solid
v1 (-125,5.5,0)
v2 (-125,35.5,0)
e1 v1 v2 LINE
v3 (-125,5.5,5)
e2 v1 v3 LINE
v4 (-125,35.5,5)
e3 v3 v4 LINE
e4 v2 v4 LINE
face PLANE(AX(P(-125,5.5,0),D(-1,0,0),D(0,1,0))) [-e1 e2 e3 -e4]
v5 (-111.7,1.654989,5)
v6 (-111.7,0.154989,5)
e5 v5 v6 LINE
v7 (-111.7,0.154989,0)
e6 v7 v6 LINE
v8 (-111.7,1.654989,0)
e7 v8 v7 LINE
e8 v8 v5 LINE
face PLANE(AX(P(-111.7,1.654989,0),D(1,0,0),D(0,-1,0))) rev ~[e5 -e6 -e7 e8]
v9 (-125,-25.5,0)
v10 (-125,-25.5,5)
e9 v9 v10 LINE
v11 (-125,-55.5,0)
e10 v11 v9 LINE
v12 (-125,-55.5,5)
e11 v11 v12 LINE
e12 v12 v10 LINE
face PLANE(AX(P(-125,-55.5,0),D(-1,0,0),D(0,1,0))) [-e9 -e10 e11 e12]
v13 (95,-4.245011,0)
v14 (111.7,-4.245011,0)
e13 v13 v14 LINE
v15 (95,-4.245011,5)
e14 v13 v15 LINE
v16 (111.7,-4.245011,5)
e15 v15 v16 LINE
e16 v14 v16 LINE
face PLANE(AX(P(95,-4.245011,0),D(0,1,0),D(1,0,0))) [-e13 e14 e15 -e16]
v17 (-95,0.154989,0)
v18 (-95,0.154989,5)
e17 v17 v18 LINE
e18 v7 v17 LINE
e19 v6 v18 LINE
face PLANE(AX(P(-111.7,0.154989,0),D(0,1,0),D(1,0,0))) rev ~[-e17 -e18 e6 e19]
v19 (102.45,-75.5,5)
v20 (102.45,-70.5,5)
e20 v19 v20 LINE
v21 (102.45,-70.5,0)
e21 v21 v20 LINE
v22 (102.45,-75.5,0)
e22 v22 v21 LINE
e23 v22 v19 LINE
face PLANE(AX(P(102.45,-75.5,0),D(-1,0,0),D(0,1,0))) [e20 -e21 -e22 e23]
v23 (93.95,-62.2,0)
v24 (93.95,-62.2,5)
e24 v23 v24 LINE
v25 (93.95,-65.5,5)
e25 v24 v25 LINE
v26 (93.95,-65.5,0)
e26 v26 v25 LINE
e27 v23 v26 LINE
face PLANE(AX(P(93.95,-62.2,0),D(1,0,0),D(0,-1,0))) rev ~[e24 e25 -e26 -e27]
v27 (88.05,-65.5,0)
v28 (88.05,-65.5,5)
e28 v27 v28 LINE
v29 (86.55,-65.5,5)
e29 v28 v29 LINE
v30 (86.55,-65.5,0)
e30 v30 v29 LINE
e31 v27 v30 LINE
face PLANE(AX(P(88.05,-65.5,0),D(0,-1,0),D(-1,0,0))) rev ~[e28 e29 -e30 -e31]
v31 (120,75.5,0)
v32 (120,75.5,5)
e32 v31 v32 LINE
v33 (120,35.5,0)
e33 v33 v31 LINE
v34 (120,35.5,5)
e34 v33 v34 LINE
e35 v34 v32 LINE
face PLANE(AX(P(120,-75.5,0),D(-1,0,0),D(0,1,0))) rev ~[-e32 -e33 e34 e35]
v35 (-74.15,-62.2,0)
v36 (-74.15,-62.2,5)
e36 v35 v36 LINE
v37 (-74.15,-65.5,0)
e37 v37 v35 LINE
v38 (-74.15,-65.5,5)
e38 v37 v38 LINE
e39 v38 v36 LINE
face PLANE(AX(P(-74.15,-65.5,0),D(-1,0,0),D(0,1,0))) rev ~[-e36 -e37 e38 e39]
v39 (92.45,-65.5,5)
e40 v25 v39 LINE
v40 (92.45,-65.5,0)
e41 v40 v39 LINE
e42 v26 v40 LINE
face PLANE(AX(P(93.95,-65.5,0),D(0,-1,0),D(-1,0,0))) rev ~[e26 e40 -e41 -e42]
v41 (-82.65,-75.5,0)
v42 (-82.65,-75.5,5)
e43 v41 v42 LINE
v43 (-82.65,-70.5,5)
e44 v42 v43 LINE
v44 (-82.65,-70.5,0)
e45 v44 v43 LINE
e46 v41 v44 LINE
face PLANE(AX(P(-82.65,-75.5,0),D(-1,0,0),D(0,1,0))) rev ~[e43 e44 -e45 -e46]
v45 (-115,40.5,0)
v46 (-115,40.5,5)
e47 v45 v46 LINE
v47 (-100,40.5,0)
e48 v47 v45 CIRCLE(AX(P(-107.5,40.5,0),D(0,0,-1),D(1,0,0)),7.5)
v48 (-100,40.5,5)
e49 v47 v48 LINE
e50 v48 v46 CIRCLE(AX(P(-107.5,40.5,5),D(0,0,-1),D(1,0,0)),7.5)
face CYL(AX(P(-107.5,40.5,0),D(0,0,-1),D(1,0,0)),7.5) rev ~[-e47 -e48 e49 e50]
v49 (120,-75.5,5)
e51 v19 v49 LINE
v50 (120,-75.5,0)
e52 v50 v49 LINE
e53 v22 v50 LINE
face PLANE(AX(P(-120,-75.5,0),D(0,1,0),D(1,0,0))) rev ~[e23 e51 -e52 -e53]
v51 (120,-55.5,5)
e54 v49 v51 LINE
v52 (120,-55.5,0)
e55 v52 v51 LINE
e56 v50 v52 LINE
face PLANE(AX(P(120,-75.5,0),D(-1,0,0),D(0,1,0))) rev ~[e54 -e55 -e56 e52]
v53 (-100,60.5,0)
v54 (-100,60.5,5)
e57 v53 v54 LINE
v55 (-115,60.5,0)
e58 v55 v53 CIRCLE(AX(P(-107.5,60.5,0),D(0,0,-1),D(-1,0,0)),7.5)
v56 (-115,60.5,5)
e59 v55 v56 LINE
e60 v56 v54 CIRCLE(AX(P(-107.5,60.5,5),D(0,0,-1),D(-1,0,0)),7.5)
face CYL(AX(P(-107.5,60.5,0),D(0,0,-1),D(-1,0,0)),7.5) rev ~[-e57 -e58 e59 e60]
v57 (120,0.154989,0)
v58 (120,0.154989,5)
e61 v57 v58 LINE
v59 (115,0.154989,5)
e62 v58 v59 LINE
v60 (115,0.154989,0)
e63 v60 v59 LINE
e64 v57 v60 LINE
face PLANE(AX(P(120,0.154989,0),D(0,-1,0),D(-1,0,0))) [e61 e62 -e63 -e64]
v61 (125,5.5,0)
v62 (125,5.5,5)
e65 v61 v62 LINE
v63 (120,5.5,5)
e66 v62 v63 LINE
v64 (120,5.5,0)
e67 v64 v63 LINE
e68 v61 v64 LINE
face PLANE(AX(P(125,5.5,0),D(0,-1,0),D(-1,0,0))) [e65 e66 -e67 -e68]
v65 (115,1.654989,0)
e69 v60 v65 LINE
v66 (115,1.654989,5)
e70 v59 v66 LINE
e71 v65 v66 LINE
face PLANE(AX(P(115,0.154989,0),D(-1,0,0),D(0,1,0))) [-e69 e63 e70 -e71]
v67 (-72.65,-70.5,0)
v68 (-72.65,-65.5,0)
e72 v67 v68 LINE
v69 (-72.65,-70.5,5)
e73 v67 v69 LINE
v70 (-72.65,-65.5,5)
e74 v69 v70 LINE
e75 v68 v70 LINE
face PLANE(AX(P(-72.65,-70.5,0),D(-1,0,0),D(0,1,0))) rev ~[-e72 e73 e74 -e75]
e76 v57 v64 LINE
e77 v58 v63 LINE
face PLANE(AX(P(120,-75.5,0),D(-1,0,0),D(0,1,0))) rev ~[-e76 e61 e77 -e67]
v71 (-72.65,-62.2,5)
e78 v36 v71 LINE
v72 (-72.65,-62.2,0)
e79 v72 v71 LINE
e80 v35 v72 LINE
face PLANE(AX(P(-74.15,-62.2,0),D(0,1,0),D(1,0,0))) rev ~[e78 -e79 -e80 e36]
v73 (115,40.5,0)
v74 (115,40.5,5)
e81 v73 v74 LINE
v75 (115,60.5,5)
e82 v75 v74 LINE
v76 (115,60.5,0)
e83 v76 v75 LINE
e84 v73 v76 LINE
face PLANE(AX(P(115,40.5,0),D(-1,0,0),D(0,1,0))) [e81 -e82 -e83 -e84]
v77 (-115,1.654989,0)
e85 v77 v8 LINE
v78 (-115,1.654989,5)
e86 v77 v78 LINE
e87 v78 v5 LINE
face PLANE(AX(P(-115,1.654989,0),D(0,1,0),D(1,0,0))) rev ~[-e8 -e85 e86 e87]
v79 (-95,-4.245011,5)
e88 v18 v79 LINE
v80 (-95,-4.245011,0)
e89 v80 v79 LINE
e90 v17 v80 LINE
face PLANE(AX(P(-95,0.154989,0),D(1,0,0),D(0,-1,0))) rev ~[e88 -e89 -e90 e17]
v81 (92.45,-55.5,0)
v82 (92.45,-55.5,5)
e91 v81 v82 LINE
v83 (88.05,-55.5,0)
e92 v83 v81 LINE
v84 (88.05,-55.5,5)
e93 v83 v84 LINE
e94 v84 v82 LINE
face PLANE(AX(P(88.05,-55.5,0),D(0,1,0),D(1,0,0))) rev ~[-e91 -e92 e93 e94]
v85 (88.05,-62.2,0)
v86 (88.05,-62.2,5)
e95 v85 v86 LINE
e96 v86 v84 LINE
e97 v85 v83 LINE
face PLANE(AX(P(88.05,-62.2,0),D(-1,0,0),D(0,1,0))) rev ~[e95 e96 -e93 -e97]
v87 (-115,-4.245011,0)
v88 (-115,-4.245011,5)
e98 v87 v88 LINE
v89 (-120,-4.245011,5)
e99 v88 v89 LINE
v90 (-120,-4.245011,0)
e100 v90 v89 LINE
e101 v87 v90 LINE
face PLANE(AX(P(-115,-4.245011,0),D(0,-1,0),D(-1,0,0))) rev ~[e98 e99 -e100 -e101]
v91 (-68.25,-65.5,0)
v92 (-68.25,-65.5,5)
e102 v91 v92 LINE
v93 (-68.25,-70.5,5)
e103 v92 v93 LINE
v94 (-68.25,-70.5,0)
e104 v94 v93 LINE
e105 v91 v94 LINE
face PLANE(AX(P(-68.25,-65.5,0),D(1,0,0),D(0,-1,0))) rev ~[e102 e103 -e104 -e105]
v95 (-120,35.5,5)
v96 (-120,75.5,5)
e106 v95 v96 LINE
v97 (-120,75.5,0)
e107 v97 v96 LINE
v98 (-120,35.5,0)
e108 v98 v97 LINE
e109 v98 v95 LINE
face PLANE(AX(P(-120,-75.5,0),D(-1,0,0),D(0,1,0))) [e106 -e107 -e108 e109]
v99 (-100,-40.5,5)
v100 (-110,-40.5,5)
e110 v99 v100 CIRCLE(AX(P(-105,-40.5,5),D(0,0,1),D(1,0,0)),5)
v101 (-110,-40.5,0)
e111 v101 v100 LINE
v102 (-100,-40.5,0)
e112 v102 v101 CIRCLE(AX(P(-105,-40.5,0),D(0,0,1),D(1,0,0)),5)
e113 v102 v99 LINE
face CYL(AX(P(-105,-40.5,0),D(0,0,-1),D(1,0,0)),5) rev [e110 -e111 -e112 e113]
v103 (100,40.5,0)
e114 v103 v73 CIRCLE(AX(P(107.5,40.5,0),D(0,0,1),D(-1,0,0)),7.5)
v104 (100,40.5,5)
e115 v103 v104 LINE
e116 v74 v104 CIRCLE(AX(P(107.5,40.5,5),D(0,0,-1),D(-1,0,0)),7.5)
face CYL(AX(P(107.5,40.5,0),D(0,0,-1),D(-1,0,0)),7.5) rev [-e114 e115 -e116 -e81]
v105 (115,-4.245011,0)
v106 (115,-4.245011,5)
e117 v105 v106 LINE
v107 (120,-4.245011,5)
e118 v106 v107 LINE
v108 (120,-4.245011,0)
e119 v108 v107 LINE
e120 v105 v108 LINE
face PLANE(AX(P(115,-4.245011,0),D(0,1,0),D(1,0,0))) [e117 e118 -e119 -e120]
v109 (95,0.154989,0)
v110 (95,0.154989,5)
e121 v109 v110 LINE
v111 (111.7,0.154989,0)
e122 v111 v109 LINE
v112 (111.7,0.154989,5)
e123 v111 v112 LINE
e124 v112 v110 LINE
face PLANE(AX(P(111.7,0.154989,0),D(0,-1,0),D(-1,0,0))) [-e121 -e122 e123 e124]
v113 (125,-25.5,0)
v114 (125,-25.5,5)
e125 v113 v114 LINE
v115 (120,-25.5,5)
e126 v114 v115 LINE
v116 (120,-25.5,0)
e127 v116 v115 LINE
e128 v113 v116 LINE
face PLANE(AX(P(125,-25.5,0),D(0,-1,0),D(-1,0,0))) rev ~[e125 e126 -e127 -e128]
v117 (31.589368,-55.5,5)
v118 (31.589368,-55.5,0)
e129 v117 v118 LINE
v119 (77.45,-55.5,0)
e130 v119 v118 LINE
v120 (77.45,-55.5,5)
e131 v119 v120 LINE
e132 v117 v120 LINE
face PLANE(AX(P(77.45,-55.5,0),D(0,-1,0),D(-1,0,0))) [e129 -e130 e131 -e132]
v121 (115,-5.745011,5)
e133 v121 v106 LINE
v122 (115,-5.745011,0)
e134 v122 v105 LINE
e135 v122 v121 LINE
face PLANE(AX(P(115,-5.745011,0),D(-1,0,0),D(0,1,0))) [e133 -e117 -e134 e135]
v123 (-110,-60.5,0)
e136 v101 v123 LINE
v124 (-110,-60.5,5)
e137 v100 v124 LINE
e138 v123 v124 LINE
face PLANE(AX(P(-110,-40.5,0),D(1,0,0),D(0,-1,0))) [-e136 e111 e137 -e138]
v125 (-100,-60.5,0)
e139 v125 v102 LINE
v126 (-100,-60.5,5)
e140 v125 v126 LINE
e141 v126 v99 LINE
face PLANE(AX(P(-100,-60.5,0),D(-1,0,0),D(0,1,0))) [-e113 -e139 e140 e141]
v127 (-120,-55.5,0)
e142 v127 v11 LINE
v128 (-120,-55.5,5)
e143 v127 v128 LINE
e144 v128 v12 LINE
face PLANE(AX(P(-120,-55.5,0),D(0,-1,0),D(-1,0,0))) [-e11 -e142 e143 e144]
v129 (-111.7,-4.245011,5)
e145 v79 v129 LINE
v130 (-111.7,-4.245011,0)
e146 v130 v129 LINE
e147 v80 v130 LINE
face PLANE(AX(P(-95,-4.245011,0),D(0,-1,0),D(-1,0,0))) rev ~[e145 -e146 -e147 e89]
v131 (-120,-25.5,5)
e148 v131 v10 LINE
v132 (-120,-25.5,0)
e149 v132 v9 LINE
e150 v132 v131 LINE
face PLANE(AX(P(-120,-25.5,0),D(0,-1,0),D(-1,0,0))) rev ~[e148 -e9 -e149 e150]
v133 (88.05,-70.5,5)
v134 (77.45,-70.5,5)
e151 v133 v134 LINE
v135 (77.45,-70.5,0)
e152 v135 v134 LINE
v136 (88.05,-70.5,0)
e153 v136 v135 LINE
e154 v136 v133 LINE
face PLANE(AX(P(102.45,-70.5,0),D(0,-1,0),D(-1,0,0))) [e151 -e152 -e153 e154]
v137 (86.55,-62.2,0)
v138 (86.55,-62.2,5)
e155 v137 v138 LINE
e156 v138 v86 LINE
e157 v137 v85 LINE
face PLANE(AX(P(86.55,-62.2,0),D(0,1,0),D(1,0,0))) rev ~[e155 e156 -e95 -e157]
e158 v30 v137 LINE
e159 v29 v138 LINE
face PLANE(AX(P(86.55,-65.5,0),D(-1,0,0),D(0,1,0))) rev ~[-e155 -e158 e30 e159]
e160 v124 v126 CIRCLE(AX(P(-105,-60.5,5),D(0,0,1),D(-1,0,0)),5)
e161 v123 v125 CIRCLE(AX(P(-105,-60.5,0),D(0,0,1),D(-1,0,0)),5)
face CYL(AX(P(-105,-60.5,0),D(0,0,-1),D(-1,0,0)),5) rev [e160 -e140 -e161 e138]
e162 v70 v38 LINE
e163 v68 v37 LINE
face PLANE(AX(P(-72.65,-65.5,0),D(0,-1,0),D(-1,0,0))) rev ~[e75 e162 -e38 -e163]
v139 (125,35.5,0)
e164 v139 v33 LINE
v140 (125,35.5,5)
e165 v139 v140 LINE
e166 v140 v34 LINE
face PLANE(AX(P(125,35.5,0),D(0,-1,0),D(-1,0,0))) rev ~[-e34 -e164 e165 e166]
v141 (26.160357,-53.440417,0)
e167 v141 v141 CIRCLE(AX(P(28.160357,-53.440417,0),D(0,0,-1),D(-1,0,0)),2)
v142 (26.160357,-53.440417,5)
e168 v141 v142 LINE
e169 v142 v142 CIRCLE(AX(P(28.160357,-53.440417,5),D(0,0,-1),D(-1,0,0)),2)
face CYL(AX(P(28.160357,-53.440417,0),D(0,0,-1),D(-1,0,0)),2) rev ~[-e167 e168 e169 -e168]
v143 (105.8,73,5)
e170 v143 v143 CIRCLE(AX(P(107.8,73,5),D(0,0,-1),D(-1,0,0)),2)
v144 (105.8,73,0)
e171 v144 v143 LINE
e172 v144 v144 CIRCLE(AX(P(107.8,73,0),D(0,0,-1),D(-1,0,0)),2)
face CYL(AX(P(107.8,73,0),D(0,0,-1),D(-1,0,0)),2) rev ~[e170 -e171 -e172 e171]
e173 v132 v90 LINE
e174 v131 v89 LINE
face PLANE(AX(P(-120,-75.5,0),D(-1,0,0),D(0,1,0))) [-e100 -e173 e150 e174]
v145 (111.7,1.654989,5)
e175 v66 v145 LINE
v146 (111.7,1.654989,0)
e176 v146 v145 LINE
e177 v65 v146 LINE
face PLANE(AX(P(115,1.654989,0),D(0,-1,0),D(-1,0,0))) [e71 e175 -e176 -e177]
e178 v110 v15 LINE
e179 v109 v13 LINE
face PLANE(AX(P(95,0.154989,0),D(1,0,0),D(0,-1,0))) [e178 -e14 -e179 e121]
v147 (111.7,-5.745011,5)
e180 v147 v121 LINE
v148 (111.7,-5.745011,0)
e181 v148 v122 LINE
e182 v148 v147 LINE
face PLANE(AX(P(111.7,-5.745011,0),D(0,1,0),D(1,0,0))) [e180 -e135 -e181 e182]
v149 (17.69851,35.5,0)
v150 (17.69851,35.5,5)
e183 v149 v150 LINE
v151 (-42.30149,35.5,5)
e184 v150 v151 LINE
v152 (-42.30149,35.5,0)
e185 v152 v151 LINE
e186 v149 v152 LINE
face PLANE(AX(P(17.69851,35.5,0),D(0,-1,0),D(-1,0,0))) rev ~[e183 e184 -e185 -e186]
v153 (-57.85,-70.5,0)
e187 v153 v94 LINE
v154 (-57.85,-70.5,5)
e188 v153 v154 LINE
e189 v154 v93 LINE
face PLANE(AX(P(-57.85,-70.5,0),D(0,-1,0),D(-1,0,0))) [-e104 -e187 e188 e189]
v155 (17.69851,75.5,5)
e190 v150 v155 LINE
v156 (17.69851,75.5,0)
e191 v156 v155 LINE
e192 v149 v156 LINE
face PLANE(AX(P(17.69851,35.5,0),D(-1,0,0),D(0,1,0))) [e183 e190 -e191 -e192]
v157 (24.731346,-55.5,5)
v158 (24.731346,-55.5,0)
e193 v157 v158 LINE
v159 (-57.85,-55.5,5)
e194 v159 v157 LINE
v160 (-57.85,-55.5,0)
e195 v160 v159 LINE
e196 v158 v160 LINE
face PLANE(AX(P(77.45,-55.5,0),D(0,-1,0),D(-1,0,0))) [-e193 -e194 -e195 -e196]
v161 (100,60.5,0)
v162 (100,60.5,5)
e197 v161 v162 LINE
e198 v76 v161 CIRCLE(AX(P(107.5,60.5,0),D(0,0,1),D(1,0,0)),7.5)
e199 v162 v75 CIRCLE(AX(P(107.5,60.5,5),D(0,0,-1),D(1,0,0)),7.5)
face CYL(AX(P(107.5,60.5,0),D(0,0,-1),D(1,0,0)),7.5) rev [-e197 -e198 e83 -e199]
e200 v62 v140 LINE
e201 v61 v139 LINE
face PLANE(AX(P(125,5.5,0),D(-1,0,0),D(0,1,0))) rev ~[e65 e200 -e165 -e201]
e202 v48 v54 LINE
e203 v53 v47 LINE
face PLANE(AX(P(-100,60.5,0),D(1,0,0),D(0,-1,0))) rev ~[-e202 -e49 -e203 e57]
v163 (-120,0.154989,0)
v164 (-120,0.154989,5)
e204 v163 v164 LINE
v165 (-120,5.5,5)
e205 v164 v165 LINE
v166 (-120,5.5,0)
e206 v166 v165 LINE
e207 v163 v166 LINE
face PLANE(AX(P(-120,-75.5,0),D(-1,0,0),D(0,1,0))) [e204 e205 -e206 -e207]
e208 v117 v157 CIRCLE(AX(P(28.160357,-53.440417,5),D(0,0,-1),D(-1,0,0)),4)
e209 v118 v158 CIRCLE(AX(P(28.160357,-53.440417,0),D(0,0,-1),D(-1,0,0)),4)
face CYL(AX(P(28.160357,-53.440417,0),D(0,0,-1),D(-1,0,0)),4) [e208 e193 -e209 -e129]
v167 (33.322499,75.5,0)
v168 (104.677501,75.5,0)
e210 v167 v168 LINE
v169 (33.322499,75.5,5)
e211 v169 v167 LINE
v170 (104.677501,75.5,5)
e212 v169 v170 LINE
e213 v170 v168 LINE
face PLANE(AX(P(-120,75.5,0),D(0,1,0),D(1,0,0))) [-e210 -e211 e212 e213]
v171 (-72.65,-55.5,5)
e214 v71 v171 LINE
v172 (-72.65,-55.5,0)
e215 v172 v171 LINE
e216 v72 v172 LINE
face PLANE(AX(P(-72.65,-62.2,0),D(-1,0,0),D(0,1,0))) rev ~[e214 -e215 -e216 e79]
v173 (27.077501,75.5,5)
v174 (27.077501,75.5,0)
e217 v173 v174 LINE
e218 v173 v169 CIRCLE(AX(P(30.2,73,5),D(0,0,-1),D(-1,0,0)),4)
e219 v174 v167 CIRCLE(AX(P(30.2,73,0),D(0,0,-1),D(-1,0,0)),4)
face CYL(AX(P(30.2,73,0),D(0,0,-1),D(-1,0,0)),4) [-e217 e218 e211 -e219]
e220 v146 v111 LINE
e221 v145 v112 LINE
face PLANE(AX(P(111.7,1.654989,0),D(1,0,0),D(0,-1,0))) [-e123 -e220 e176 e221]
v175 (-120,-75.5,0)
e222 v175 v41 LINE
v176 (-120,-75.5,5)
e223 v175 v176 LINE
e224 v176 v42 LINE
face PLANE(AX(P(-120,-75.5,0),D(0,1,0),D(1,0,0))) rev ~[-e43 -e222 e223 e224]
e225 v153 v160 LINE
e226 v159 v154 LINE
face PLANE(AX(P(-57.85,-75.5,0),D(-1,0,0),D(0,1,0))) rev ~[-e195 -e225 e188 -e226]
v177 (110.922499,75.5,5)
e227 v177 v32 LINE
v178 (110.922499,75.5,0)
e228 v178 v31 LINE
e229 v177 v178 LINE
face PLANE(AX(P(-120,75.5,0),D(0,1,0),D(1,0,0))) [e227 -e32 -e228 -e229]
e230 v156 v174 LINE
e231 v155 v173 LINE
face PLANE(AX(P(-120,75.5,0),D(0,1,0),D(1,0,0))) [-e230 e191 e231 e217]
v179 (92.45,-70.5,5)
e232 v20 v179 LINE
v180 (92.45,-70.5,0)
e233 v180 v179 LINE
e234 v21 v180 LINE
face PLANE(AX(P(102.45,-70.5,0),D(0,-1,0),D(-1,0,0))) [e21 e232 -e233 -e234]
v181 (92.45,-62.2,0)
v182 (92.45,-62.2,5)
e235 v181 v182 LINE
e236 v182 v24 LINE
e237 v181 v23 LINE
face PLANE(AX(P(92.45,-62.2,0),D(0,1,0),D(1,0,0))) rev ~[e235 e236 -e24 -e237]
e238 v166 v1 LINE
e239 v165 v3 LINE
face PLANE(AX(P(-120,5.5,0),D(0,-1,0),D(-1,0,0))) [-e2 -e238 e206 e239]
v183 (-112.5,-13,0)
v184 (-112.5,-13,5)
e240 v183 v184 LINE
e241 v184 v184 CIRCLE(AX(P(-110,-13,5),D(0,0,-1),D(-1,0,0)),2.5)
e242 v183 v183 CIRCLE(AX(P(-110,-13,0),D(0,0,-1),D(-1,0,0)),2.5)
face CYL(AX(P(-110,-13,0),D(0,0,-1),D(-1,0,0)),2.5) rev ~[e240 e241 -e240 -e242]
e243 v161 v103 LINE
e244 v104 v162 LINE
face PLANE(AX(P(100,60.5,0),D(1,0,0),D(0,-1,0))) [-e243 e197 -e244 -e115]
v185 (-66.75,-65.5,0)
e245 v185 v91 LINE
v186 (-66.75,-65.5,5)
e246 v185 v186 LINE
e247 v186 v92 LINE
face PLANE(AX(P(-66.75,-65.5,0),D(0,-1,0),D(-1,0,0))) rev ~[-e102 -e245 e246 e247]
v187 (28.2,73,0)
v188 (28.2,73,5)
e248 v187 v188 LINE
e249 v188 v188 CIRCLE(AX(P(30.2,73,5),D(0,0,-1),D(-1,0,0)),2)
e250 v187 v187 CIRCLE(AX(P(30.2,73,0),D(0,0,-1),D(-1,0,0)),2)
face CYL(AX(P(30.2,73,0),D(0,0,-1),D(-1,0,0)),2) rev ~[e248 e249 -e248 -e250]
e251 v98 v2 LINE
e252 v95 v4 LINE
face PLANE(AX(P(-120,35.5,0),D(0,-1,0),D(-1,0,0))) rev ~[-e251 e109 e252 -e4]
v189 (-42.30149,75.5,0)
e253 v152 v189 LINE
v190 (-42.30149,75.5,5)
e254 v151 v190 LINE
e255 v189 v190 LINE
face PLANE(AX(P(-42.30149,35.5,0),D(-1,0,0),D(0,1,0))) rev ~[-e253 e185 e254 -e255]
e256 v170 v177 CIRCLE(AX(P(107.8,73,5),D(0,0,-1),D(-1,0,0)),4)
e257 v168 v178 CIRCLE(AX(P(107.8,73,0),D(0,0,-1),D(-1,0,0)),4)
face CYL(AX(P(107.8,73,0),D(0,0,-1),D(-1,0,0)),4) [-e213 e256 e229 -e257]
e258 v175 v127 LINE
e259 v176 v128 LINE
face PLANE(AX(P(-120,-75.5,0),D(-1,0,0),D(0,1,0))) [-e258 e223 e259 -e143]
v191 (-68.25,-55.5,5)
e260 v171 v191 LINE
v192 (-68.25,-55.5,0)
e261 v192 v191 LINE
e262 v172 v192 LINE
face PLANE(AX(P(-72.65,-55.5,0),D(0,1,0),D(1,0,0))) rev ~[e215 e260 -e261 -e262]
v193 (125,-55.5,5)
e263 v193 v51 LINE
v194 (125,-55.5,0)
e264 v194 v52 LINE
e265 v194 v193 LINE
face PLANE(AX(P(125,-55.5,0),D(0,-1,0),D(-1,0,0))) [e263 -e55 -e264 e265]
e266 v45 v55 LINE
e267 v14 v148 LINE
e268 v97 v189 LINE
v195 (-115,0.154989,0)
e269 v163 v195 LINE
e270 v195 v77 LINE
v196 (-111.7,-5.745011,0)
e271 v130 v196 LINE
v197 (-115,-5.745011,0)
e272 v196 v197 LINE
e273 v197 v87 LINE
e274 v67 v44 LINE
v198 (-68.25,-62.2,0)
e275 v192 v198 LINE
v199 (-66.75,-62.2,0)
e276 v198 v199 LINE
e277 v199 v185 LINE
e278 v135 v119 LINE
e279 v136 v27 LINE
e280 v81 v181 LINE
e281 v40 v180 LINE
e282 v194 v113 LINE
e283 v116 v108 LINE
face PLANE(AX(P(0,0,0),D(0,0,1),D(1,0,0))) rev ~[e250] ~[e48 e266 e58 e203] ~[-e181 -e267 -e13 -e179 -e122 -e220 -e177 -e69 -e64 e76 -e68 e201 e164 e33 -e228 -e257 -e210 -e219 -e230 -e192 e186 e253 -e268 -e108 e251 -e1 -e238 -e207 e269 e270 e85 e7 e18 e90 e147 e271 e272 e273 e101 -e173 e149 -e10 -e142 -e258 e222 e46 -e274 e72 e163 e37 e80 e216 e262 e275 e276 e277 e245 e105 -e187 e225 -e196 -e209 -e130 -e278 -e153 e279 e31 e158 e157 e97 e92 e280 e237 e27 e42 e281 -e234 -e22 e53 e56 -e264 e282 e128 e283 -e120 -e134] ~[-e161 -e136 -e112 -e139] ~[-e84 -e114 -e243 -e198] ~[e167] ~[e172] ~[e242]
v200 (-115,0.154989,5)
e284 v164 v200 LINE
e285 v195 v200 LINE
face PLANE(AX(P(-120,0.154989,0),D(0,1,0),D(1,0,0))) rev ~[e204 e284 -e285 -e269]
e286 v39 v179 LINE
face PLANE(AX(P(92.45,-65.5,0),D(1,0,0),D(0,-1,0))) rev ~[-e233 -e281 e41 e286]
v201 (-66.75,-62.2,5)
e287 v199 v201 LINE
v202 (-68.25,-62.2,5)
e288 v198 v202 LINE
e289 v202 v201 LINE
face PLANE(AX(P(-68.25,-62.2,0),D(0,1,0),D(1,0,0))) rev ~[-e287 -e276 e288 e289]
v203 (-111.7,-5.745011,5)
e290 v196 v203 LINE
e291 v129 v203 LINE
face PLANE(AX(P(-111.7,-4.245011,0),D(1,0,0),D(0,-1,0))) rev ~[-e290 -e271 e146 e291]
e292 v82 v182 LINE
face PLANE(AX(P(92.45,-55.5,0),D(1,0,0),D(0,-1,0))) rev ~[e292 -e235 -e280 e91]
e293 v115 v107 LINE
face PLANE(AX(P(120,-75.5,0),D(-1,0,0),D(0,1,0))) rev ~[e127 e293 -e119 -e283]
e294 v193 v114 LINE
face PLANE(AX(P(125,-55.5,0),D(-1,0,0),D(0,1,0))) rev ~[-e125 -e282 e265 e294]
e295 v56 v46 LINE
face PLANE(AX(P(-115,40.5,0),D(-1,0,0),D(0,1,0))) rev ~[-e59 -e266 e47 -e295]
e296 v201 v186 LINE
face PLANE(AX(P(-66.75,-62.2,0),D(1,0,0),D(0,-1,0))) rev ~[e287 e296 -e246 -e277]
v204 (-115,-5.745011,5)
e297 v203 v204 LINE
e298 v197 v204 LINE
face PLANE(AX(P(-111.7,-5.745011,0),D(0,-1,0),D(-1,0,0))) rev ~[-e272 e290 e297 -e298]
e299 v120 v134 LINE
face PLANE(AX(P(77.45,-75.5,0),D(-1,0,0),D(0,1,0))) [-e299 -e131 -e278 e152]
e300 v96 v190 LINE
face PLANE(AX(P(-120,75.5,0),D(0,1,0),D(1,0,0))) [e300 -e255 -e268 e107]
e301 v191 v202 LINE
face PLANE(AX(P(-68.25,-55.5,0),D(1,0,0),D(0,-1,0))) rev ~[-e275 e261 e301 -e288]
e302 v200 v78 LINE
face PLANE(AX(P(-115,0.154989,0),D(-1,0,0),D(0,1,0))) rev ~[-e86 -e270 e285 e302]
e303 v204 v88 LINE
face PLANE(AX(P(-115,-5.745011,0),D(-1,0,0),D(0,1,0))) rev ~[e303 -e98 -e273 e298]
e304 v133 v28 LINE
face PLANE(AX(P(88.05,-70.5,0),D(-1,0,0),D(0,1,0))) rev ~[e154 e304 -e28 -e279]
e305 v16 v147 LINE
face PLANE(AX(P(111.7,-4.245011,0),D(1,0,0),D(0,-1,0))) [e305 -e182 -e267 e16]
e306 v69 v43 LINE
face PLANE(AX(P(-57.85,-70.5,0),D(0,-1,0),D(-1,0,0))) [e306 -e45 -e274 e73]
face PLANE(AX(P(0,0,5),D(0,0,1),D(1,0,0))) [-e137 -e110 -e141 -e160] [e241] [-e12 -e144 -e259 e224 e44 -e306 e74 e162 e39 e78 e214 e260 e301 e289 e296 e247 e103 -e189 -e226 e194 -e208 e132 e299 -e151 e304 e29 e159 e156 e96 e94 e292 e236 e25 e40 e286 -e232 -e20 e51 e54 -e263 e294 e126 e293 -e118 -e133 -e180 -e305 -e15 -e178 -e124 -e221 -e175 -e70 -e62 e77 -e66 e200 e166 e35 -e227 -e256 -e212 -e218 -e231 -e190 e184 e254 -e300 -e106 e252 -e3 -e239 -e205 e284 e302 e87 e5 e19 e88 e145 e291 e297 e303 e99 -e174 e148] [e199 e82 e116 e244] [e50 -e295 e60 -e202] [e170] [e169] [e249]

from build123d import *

# Parameters (mm, degrees)
SKETCH1_W           = 240
SKETCH1_H           = 151
BOSS_EXTRUDE1_DEPTH = 5
SKETCH2_W           = 60
SKETCH2_H           = 40
CUT_EXTRUDE1_DEPTH  = 5
SKETCH4_R           = 2
CUT_EXTRUDE3_DEPTH  = 5
SKETCH5_R           = 4
SKETCH5_R_2         = 2
BOSS_EXTRUDE2_DEPTH = 5
CUT_EXTRUDE5_DEPTH  = 5
SKETCH12_R          = 2
CUT_EXTRUDE7_DEPTH  = 5
SKETCH13_R          = 2.5
CUT_EXTRUDE8_DEPTH  = 10
SKETCH16_W          = 5
SKETCH16_H          = 30
BOSS_EXTRUDE5_DEPTH = 5
CUT_EXTRUDE11_DEPTH = 5
SKETCH18_W          = 135.3
SKETCH18_H          = 20
CUT_EXTRUDE13_DEPTH = 10
SKETCH19_R          = 4
SKETCH19_R_2        = 2
BOSS_EXTRUDE6_DEPTH = 5
SKETCH20_W          = 24.8
SKETCH20_H          = 5
CUT_EXTRUDE14_DEPTH = 5
SKETCH21_W          = 25
SKETCH21_H          = 5
CUT_EXTRUDE15_DEPTH = 5
CUT_EXTRUDE16_DEPTH = 5
CUT_EXTRUDE17_DEPTH = 10


with BuildPart() as part:
    # Sketch1 → Boss-Extrude1 (new body)
    with BuildSketch(Plane.XY):
        Rectangle(SKETCH1_W, SKETCH1_H)
    extrude(amount=BOSS_EXTRUDE1_DEPTH)

    # Sketch2 → Cut-Extrude1 (cut)
    with BuildSketch(Plane(origin=(0, 0, 0), x_dir=(-1, 0, 0), z_dir=(0, 0, -1))):
        with Locations((12.301489704, 55.5)):
            Rectangle(SKETCH2_W, SKETCH2_H)
    extrude(amount=-CUT_EXTRUDE1_DEPTH, mode=Mode.SUBTRACT)

    # Sketch4 → Cut-Extrude3 (cut)
    with BuildSketch(Plane(origin=(0, 0, 0), x_dir=(-1, 0, 0), z_dir=(0, 0, -1))):
        with Locations((-107.8, 73)):
            Circle(SKETCH4_R)
        with Locations((-30.2, 73)):
            Circle(SKETCH4_R)
    extrude(amount=-CUT_EXTRUDE3_DEPTH, mode=Mode.SUBTRACT)

    # Sketch5 → Boss-Extrude2 (add)
    with BuildSketch(Plane(origin=(0, 0, 0), x_dir=(-1, 0, 0), z_dir=(0, 0, -1))):
        with Locations((-30.2, 73)):
            Circle(SKETCH5_R)
        with Locations((-30.2, 73)):
            Circle(SKETCH5_R_2, mode=Mode.SUBTRACT)
        with Locations((-107.8, 73)):
            Circle(SKETCH5_R)
        with Locations((-107.8, 73)):
            Circle(SKETCH5_R_2, mode=Mode.SUBTRACT)
    extrude(amount=-BOSS_EXTRUDE2_DEPTH)

    # Sketch8 → Cut-Extrude5 (cut)
    with BuildSketch(Plane(origin=(0, 0, 0), x_dir=(-1, 0, 0), z_dir=(0, 0, -1))):
        with BuildLine():
            Line((100, -60.5), (100, -40.5))
            ThreePointArc((100, -40.5), (105, -35.5), (110, -40.5))
            Line((110, -40.5), (110, -60.5))
            ThreePointArc((110, -60.5), (105, -65.5), (100, -60.5))
        make_face()
    extrude(amount=-CUT_EXTRUDE5_DEPTH, mode=Mode.SUBTRACT)

    # Sketch12 → Cut-Extrude7 (cut)
    with BuildSketch(Plane(origin=(0, 0, 0), x_dir=(-1, 0, 0), z_dir=(0, 0, -1))):
        with Locations((-28.16035742, -53.440416767)):
            Circle(SKETCH12_R)
    extrude(amount=-CUT_EXTRUDE7_DEPTH, mode=Mode.SUBTRACT)

    # Sketch13 → Cut-Extrude8 (cut)
    with BuildSketch(Plane(origin=(0, 0, 0), x_dir=(-1, 0, 0), z_dir=(0, 0, -1))):
        with Locations((110, -13)):
            Circle(SKETCH13_R)
    extrude(amount=-CUT_EXTRUDE8_DEPTH, mode=Mode.SUBTRACT)

    # Sketch16 → Boss-Extrude5 (add)
    with BuildSketch(Plane(origin=(0, 0, 0), x_dir=(-1, 0, 0), z_dir=(0, 0, -1))):
        with Locations((-122.5, 20.5)):
            Rectangle(SKETCH16_W, SKETCH16_H)
        with Locations((-122.5, -40.5)):
            Rectangle(SKETCH16_W, SKETCH16_H)
        with Locations((122.5, -40.5)):
            Rectangle(SKETCH16_W, SKETCH16_H)
        with Locations((122.5, 20.5)):
            Rectangle(SKETCH16_W, SKETCH16_H)
    extrude(amount=-BOSS_EXTRUDE5_DEPTH)

    # Sketch17 → Cut-Extrude11 (cut)
    with BuildSketch(Plane(origin=(0, 0, 0), x_dir=(-1, 0, 0), z_dir=(0, 0, -1))):
        Polygon((-120, 0.154989229), (-115, 0.154989229), (-115, 1.654989229), (-111.7, 1.654989229), (-111.7, 0.154989229), (-95, 0.154989229), (-95, -4.245010771), (-111.7, -4.245010771), (-111.7, -5.745010771), (-115, -5.745010771), (-115, -4.245010771), (-120, -4.245010771), align=None)
        Polygon((120, -4.245010771), (120, 0.154989229), (115, 0.154989229), (115, 1.654989229), (111.7, 1.654989229), (111.7, 0.154989229), (95, 0.154989229), (95, -4.245010771), (111.7, -4.245010771), (111.7, -5.745010771), (115, -5.745010771), (115, -4.245010771), align=None)
    extrude(amount=-CUT_EXTRUDE11_DEPTH, mode=Mode.SUBTRACT)

    # Sketch18 → Cut-Extrude13 (cut)
    with BuildSketch(Plane(origin=(0, 0, 0), x_dir=(-1, 0, 0), z_dir=(0, 0, -1))):
        with Locations((-9.8, -65.5)):
            Rectangle(SKETCH18_W, SKETCH18_H)
    extrude(amount=-CUT_EXTRUDE13_DEPTH, mode=Mode.SUBTRACT)

    # Sketch19 → Boss-Extrude6 (add)
    with BuildSketch(Plane(origin=(0, 0, 0), x_dir=(-1, 0, 0), z_dir=(0, 0, -1))):
        with Locations((-28.16035742, -53.440416767)):
            Circle(SKETCH19_R)
        with Locations((-28.16035742, -53.440416767)):
            Circle(SKETCH19_R_2, mode=Mode.SUBTRACT)
    extrude(amount=-BOSS_EXTRUDE6_DEPTH)

    # Sketch20 → Cut-Extrude14 (cut)
    with BuildSketch(Plane(origin=(0, 0, 0), x_dir=(-1, 0, 0), z_dir=(0, 0, -1))):
        with Locations((70.25, -73)):
            Rectangle(SKETCH20_W, SKETCH20_H)
    extrude(amount=-CUT_EXTRUDE14_DEPTH, mode=Mode.SUBTRACT)

    # Sketch21 → Cut-Extrude15 (cut)
    with BuildSketch(Plane(origin=(0, 0, 0), x_dir=(-1, 0, 0), z_dir=(0, 0, -1))):
        with Locations((-89.95, -73)):
            Rectangle(SKETCH21_W, SKETCH21_H)
    extrude(amount=-CUT_EXTRUDE15_DEPTH, mode=Mode.SUBTRACT)

    # Sketch22 → Cut-Extrude16 (cut)
    with BuildSketch(Plane(origin=(0, 0, 0), x_dir=(-1, 0, 0), z_dir=(0, 0, -1))):
        Polygon((68.25, -55.5), (68.25, -62.2), (66.75, -62.2), (66.75, -65.5), (68.25, -65.5), (68.25, -70.5), (72.65, -70.5), (72.65, -65.5), (74.15, -65.5), (74.15, -62.2), (72.65, -62.2), (72.65, -55.5), align=None)
        Polygon((-92.45, -55.5), (-92.45, -62.2), (-93.95, -62.2), (-93.95, -65.5), (-92.45, -65.5), (-92.45, -70.5), (-88.05, -70.5), (-88.05, -65.5), (-86.55, -65.5), (-86.55, -62.2), (-88.05, -62.2), (-88.05, -55.5), align=None)
    extrude(amount=-CUT_EXTRUDE16_DEPTH, mode=Mode.SUBTRACT)

    # Sketch23 → Cut-Extrude17 (cut)
    with BuildSketch(Plane(origin=(0, 0, 0), x_dir=(-1, 0, 0), z_dir=(0, 0, -1))):
        with BuildLine():
            Line((-100, 60.5), (-100, 40.5))
            ThreePointArc((-100, 40.5), (-107.5, 33), (-115, 40.5))
            Line((-115, 40.5), (-115, 60.5))
            ThreePointArc((-115, 60.5), (-107.5, 68), (-100, 60.5))
        make_face()
        with BuildLine():
            Line((100, 60.5), (100, 40.5))
            ThreePointArc((100, 40.5), (107.5, 33), (115, 40.5))
            Line((115, 40.5), (115, 60.5))
            ThreePointArc((115, 60.5), (107.5, 68), (100, 60.5))
        make_face()
    extrude(amount=-CUT_EXTRUDE17_DEPTH, mode=Mode.SUBTRACT)


solid = part.part
